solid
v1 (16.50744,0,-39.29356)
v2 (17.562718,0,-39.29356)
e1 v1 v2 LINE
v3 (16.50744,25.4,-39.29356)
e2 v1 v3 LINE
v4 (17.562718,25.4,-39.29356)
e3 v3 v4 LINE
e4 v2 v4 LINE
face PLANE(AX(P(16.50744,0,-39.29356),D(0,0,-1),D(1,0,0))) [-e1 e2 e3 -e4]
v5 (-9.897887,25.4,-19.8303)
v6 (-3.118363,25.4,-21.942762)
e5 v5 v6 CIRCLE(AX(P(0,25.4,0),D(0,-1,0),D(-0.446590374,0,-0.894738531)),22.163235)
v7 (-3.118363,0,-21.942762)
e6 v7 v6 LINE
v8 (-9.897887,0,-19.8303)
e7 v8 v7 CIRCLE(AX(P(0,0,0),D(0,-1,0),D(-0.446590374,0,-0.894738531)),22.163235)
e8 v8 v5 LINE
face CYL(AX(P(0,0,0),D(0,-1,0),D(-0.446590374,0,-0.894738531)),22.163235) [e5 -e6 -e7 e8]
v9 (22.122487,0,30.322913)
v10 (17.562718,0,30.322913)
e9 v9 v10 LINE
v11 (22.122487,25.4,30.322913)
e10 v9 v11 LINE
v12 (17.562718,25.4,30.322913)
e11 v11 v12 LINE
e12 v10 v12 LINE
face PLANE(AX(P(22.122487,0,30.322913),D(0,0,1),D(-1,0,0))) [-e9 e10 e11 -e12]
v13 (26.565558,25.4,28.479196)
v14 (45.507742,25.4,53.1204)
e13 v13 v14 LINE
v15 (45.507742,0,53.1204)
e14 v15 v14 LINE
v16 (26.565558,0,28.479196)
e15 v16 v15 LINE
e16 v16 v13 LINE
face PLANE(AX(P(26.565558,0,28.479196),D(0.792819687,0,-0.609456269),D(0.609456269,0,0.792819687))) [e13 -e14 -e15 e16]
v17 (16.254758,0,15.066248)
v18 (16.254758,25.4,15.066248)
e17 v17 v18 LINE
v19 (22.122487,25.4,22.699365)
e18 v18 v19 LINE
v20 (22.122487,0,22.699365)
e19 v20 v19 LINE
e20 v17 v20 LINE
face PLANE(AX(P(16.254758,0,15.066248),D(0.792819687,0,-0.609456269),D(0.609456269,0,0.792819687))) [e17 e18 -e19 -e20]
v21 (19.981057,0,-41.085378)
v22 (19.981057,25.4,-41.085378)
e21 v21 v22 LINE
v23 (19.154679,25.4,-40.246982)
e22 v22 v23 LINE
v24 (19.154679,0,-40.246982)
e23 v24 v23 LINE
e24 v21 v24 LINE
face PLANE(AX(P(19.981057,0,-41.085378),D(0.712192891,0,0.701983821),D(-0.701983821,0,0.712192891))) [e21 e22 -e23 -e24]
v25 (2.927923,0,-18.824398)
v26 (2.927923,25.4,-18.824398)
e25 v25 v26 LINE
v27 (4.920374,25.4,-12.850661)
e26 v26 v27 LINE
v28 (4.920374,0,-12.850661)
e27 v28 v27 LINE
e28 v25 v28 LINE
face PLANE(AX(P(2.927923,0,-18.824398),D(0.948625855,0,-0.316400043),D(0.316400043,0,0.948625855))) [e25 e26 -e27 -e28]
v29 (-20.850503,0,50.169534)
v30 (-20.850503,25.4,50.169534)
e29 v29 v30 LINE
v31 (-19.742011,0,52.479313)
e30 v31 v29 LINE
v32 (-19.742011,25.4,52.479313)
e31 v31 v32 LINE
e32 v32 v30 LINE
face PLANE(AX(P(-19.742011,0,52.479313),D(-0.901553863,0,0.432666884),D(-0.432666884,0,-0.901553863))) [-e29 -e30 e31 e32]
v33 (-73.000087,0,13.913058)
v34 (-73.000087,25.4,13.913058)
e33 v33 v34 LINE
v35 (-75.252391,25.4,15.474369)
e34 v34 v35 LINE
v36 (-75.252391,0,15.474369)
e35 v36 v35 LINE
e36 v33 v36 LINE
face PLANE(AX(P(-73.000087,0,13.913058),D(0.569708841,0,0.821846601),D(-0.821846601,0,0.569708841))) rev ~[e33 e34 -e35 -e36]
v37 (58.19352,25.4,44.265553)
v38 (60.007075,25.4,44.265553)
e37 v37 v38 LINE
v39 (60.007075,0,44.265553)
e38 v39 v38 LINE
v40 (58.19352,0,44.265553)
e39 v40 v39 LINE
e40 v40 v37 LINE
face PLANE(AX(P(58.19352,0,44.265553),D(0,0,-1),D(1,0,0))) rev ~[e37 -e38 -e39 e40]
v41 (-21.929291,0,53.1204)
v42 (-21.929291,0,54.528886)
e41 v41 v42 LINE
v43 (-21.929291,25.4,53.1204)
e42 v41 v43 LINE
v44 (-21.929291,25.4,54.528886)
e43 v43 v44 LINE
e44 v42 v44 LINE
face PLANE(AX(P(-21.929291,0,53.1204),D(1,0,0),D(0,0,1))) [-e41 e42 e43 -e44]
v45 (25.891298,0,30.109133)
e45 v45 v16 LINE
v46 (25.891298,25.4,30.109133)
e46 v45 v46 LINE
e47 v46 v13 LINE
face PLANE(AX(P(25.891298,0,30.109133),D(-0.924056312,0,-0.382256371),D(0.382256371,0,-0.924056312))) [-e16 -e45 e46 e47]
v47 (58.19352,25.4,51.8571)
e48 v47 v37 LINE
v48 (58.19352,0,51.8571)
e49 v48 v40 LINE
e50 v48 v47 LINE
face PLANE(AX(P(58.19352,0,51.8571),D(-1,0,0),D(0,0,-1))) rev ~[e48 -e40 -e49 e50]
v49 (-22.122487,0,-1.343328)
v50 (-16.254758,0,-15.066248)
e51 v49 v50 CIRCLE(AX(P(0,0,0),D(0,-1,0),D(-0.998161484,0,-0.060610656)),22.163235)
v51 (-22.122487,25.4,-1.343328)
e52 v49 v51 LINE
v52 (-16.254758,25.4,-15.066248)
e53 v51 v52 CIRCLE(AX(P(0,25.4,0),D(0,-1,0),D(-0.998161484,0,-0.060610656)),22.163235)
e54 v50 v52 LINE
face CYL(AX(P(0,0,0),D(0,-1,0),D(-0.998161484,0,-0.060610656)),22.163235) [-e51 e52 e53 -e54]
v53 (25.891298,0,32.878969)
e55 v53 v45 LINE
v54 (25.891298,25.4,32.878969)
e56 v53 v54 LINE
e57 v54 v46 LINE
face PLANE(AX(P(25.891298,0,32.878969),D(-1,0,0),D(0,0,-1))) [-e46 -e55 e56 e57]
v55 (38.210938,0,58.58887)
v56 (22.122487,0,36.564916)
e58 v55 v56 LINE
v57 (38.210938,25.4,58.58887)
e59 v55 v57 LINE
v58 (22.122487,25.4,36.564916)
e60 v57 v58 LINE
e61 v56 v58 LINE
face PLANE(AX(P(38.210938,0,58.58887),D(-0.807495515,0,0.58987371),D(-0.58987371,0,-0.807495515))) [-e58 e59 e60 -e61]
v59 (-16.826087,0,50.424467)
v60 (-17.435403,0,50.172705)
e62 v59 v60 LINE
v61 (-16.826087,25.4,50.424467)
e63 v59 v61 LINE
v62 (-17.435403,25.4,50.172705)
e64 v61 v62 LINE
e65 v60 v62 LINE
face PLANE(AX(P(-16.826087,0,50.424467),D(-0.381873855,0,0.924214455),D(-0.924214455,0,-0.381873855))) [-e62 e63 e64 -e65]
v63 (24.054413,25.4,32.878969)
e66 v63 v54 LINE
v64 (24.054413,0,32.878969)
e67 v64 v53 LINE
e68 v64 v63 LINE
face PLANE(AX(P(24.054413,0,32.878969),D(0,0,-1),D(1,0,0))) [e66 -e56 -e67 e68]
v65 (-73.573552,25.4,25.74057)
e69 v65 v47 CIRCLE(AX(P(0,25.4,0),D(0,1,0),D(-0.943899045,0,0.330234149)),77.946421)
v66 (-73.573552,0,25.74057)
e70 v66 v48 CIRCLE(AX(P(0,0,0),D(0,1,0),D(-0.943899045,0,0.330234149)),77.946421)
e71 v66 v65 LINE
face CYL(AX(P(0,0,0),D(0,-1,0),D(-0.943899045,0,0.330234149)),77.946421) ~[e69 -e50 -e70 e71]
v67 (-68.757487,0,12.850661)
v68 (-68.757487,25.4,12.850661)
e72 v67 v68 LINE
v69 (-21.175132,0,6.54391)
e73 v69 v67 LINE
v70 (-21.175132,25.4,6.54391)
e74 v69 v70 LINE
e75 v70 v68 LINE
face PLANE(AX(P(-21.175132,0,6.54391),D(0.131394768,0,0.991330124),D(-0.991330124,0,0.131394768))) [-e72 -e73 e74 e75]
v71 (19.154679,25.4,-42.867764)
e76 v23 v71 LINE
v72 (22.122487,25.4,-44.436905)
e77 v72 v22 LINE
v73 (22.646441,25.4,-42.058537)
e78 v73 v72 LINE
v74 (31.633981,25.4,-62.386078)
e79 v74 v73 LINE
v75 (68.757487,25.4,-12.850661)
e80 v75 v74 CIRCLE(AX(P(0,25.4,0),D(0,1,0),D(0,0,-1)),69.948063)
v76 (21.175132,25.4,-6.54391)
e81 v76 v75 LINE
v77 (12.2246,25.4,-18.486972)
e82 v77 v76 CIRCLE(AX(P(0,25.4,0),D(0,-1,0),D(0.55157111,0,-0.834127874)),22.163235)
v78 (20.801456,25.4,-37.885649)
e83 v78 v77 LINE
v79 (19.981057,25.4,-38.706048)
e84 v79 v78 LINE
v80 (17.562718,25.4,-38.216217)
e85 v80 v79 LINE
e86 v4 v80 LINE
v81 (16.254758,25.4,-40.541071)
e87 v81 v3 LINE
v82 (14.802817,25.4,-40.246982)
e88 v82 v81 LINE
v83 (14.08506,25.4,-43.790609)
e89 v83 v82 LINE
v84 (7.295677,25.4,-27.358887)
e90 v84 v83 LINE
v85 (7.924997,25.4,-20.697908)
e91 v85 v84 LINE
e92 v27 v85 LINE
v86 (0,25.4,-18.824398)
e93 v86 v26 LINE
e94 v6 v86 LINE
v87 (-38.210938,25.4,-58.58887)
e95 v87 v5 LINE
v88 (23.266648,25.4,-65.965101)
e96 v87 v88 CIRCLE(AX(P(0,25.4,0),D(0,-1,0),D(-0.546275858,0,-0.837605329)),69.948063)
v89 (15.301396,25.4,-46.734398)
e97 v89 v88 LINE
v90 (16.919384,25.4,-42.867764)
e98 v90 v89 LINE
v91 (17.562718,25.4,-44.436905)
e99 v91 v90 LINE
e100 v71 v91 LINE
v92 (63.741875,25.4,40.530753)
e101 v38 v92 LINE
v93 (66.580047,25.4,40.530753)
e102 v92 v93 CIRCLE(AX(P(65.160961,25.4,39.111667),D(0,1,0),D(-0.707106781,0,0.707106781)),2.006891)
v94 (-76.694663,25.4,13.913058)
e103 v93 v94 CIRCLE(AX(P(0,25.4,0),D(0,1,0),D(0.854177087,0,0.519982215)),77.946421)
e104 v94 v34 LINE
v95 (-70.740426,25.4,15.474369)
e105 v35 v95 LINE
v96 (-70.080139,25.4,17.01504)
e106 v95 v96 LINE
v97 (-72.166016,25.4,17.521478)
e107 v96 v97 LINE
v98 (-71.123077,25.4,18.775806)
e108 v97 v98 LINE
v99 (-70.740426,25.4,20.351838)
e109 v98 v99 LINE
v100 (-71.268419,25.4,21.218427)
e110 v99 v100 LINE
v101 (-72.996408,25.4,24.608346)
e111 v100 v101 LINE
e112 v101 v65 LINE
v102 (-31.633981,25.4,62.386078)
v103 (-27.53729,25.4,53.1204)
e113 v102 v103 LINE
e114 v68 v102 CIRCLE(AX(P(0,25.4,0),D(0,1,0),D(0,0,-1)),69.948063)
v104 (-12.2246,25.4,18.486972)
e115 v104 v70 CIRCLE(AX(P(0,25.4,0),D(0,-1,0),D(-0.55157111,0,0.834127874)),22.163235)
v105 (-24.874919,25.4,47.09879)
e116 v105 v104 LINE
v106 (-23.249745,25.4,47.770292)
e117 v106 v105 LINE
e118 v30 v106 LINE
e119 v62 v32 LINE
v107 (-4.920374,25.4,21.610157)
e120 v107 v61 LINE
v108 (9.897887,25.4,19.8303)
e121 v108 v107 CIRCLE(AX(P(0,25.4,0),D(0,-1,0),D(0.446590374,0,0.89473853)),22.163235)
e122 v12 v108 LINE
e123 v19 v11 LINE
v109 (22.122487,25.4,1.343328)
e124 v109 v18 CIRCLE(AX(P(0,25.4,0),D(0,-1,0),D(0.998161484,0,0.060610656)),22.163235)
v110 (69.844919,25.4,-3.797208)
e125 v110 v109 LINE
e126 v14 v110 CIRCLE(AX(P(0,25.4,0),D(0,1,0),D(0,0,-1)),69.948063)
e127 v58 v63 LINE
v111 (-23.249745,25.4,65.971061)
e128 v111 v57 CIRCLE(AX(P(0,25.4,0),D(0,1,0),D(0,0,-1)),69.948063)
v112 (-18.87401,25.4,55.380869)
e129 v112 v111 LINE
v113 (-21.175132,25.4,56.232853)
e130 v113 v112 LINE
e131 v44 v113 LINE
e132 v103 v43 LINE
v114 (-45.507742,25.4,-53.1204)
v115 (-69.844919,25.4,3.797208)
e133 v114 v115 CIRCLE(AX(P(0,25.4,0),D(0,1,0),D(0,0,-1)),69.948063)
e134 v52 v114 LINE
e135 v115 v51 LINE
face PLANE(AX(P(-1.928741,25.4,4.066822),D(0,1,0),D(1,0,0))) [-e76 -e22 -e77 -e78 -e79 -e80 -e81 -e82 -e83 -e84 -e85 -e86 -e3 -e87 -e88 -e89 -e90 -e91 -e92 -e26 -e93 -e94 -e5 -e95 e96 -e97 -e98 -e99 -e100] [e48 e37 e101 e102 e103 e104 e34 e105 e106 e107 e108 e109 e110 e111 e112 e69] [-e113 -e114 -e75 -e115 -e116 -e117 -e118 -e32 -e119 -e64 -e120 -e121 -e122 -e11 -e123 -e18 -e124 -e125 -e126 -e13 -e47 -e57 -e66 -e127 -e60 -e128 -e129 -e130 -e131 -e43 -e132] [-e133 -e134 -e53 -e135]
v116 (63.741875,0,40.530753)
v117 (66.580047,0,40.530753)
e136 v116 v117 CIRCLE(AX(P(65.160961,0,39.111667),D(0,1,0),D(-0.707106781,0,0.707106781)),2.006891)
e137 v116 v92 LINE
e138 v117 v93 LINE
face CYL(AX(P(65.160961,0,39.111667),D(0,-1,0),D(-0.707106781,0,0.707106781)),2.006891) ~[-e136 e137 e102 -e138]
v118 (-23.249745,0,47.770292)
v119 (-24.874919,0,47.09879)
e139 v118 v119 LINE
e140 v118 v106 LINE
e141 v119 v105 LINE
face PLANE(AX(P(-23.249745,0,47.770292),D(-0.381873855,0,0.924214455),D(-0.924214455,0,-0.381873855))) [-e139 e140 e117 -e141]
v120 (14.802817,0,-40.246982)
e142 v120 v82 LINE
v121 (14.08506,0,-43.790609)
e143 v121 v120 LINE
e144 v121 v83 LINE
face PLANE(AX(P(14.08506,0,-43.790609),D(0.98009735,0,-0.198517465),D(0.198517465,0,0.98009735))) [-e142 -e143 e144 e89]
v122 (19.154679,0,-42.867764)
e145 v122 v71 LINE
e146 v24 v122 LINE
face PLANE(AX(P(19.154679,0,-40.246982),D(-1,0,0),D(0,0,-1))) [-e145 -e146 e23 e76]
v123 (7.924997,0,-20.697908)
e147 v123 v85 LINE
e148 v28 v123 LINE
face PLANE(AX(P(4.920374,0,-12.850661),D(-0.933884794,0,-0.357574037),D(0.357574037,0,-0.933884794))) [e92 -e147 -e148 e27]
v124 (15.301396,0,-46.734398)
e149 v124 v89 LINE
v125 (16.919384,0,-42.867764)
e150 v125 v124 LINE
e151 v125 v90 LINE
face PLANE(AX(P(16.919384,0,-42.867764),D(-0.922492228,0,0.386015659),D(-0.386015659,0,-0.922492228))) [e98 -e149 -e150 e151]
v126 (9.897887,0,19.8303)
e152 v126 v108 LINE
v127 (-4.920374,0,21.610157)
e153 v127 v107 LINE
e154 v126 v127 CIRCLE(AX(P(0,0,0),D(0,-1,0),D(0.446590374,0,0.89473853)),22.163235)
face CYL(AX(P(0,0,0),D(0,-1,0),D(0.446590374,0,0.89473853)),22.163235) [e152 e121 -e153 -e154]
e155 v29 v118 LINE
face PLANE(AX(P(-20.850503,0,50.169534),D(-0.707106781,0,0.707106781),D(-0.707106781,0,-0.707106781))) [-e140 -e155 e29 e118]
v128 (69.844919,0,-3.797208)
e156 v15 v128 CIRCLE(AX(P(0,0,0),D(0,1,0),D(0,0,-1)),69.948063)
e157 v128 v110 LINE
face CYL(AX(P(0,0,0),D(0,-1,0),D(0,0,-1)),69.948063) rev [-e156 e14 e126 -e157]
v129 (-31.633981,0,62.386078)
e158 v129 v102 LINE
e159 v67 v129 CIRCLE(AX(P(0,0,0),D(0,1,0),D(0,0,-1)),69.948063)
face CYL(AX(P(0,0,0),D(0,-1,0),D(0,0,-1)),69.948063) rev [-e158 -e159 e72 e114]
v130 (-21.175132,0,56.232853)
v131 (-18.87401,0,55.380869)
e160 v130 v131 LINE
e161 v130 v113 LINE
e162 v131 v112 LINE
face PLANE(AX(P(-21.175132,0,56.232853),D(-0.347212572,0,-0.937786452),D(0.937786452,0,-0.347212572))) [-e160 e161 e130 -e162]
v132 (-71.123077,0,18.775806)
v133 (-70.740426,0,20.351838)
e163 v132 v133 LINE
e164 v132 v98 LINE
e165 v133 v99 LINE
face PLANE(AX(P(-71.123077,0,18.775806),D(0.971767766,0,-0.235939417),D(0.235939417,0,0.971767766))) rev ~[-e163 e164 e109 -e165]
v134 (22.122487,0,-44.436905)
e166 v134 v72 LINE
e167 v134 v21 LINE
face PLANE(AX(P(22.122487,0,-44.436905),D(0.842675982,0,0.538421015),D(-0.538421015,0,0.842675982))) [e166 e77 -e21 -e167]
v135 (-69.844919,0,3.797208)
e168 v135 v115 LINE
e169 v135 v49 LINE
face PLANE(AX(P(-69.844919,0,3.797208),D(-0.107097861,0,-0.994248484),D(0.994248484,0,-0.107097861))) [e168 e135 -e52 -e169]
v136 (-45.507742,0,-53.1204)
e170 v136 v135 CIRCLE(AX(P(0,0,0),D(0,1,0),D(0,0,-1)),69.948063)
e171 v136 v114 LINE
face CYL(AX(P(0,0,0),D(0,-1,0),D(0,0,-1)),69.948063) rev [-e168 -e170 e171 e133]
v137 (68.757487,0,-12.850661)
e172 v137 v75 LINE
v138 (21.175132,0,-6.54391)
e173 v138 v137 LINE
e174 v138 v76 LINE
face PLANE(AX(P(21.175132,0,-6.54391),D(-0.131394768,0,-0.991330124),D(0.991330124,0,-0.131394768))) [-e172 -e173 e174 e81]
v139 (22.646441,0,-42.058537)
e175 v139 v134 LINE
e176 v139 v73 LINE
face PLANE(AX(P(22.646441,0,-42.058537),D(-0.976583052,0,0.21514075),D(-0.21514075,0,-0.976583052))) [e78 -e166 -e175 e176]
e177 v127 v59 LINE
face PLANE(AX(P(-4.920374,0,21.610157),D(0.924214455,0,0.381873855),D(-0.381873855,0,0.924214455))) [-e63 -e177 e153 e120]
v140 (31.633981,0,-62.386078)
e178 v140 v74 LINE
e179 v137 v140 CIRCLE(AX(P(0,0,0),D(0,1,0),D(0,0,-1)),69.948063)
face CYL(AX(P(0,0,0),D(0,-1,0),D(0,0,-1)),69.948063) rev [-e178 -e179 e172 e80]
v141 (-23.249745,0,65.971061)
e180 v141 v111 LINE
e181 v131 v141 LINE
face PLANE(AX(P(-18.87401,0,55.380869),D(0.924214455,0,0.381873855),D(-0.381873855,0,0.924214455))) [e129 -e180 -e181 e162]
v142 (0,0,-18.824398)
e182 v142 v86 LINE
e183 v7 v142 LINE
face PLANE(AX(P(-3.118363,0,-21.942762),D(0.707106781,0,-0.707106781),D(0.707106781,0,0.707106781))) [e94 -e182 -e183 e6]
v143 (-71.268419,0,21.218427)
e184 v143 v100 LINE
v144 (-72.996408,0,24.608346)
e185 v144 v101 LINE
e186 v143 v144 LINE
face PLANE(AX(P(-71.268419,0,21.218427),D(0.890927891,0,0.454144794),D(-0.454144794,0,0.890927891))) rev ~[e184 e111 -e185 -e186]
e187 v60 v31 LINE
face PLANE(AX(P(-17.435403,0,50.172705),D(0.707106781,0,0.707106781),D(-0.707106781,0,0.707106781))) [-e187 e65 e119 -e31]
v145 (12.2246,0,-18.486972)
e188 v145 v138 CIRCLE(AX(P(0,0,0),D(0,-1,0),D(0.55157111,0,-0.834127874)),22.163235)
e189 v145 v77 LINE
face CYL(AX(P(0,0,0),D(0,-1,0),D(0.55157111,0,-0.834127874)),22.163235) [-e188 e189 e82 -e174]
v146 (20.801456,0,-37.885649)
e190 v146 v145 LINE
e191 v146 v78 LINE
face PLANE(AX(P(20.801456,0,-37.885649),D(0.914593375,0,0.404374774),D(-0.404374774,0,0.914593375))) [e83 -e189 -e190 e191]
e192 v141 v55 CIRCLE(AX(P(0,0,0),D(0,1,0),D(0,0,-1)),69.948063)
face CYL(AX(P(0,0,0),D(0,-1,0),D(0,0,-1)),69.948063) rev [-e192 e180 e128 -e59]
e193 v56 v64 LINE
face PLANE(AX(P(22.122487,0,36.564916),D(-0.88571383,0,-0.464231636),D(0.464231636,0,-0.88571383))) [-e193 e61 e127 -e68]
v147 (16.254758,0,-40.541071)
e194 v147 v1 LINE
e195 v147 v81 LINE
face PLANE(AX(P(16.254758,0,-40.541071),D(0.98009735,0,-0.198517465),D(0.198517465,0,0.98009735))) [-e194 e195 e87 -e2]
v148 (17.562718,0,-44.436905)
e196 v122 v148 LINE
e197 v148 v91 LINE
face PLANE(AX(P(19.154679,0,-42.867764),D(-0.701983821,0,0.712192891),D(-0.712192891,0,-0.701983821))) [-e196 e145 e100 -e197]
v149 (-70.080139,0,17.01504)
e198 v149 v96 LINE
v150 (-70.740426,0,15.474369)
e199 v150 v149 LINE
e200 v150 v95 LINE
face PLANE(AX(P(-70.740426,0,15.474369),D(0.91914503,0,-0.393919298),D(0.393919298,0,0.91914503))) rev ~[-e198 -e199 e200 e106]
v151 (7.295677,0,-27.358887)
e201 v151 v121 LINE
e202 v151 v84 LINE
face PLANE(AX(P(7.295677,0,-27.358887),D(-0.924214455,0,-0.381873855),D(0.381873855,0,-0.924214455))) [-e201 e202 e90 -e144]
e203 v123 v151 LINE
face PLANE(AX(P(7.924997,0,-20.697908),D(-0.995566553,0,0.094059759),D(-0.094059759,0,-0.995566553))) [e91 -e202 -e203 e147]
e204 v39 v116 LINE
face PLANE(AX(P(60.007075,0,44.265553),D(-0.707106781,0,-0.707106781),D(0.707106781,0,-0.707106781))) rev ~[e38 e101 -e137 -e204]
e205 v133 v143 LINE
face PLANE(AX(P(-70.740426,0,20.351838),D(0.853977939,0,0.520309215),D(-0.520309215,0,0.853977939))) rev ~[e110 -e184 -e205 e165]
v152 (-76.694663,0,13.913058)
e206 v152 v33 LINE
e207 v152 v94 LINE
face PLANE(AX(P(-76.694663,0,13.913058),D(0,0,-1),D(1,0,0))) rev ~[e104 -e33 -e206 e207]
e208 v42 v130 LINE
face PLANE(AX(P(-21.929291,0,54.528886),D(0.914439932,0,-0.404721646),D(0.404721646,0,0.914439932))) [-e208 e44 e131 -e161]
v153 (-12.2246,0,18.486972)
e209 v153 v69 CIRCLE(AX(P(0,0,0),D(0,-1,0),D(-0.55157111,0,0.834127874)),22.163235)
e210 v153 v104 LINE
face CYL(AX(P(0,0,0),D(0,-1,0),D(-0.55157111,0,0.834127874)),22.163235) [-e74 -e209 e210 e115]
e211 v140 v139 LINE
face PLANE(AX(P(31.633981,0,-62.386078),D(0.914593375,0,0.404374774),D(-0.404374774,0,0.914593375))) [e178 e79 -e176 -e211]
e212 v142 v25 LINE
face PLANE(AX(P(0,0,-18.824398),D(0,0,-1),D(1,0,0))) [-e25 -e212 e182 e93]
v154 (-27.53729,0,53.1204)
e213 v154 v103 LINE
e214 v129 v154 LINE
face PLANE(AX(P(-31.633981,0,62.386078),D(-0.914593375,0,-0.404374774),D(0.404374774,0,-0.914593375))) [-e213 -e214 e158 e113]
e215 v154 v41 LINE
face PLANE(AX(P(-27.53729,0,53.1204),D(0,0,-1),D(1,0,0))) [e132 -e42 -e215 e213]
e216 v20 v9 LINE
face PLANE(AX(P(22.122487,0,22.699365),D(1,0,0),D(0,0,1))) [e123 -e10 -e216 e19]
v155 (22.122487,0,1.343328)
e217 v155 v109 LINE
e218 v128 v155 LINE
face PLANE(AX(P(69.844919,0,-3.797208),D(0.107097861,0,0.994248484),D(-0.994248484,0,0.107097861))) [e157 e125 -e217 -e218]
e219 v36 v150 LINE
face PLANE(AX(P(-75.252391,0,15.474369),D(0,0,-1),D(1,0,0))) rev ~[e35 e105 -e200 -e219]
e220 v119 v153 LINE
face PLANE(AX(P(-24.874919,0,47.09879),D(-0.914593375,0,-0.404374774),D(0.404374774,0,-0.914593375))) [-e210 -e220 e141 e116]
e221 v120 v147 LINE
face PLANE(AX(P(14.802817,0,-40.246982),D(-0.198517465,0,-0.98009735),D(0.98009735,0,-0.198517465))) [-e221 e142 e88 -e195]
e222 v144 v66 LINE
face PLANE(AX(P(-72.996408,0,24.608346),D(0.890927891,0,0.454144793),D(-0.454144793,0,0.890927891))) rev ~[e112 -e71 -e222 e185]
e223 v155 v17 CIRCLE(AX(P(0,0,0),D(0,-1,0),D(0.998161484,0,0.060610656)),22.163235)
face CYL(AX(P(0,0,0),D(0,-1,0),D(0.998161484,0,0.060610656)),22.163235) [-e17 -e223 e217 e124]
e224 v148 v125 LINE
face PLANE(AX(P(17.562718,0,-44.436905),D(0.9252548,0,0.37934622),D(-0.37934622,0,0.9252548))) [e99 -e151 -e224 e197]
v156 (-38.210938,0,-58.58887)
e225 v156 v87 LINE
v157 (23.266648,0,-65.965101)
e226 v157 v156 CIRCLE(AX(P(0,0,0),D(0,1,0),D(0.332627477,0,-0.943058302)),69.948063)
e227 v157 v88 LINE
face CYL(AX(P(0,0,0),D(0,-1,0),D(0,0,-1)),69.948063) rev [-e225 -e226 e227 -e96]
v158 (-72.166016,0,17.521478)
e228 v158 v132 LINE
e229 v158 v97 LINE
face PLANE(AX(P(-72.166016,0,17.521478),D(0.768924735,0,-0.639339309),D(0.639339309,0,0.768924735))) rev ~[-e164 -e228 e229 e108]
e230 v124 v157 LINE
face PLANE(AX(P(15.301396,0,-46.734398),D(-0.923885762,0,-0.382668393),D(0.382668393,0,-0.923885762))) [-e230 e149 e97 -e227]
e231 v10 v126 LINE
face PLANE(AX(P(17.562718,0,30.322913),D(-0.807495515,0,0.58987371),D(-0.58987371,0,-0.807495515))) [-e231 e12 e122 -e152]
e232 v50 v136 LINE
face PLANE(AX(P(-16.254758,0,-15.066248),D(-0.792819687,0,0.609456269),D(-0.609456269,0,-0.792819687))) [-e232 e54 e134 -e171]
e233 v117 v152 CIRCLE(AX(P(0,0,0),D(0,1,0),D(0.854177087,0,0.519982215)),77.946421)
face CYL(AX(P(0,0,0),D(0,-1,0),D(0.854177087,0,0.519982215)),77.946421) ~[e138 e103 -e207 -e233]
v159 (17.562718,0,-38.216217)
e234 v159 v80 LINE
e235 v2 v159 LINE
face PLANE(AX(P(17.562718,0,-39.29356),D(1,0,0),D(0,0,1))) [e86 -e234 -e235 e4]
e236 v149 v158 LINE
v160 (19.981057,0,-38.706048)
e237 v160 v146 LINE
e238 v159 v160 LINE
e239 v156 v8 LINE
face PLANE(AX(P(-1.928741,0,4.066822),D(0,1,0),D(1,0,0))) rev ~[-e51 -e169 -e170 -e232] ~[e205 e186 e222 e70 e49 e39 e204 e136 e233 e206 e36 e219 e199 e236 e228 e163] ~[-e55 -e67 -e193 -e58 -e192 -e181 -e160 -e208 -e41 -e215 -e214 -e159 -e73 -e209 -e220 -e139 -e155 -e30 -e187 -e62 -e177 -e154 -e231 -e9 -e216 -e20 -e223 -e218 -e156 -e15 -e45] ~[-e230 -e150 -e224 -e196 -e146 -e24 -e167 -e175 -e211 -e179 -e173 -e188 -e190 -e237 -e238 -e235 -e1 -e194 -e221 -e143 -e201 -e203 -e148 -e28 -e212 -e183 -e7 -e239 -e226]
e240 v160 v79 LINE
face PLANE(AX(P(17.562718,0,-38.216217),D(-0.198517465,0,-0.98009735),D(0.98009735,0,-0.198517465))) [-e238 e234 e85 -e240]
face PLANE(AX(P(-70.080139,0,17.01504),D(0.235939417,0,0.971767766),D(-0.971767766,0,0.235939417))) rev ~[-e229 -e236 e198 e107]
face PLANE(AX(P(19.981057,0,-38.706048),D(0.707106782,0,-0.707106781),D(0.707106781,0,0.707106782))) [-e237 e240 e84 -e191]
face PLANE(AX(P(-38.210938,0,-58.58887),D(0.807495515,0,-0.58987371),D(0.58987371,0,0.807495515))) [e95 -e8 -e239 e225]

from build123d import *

# Parameters (mm, degrees)
SKETCH1_R           = 69.948062861
BOSS_EXTRUDE1_DEPTH = 25.4
BOSS_EXTRUDE2_DEPTH = 25.4


with BuildPart() as part:
    # Sketch1 → Boss-Extrude1 (new body)
    with BuildSketch(Plane(origin=(0, 0, 0), x_dir=(1, 0, 0), z_dir=(0, 1, 0))):
        with BuildLine():
            ThreePointArc((63.74187476, -40.530752622), (65.16096079, -41.118557302), (66.58004682, -40.530752622))
            ThreePointArc((66.58004682, -40.530752622), (14.23733744, 76.635127489), (-76.694663108, -13.913058378))
            Line((-76.694663108, -13.913058378), (-73.000086536, -13.913058378))
            Line((-73.000086536, -13.913058378), (-75.252390768, -15.474368763))
            Line((-75.252390768, -15.474368763), (-70.740426062, -15.474368763))
            Line((-70.740426062, -15.474368763), (-70.080138544, -17.015039639))
            Line((-70.080138544, -17.015039639), (-72.166015782, -17.521478191))
            Line((-72.166015782, -17.521478191), (-71.123077163, -18.775806353))
            Line((-71.123077163, -18.775806353), (-70.740426062, -20.351838073))
            Line((-70.740426062, -20.351838073), (-71.268418719, -21.218426764))
            Line((-71.268418719, -21.218426764), (-72.996408415, -24.608346096))
            Line((-72.996408415, -24.608346096), (-73.573552306, -25.740569997))
            ThreePointArc((-73.573552306, -25.740569997), (-15.15436006, -76.459073457), (58.193519931, -51.857099617))
            Line((58.193519931, -51.857099617), (58.193519931, -44.265552602))
            Line((58.193519931, -44.265552602), (60.00707478, -44.265552602))
            Line((60.00707478, -44.265552602), (63.74187476, -40.530752622))
        make_face()
        with Locations(Location((0, 0, 0), (0, 0, 90))):
            Circle(SKETCH1_R, mode=Mode.SUBTRACT)
    extrude(amount=BOSS_EXTRUDE1_DEPTH)

    # Sketch2 → Boss-Extrude2 (add)
    with BuildSketch(Plane.XZ):
        with BuildLine():
            Line((16.91938422, -42.867763876), (15.301396265, -46.734397981))
            Line((15.301396265, -46.734397981), (23.266647688, -65.965101405))
            ThreePointArc((23.266647688, -65.965101405), (27.508582432, -64.311813771), (31.633980927, -62.386078164))
            Line((31.633980927, -62.386078164), (22.646440609, -42.05853708))
            Line((22.646440609, -42.05853708), (22.122487474, -44.43690451))
            Line((22.122487474, -44.43690451), (19.98105683, -41.085378254))
            Line((19.98105683, -41.085378254), (19.154678805, -40.246982073))
            Line((19.154678805, -40.246982073), (19.154678805, -42.867763876))
            Line((19.154678805, -42.867763876), (17.562717892, -44.43690451))
            Line((17.562717892, -44.43690451), (16.91938422, -42.867763876))
        make_face()
        with BuildLine():
            Line((7.295677294, -27.358886688), (14.085059503, -43.790609078))
            Line((14.085059503, -43.790609078), (14.802816622, -40.246982073))
            Line((14.802816622, -40.246982073), (16.254758128, -40.541070969))
            Line((16.254758128, -40.541070969), (16.507439862, -39.293560089))
            Line((16.507439862, -39.293560089), (17.562717892, -39.293560089))
            Line((17.562717892, -39.293560089), (17.562717892, -38.21621684))
            Line((17.562717892, -38.21621684), (19.98105683, -38.7060483))
            Line((19.98105683, -38.7060483), (20.801456059, -37.88564907))
            Line((20.801456059, -37.88564907), (12.224600097, -18.486972039))
            ThreePointArc((12.224600097, -18.486972039), (17.735408563, -13.291511043), (21.175132345, -6.543909602))
            Line((21.175132345, -6.543909602), (68.757486976, -12.850660789))
            ThreePointArc((68.757486976, -12.850660789), (69.448887589, -8.341673136), (69.844918996, -3.797207976))
            Line((69.844918996, -3.797207976), (22.122487474, 1.343328216))
            ThreePointArc((22.122487474, 1.343328216), (20.3784905, 8.713558841), (16.254758128, 15.066247738))
            Line((16.254758128, 15.066247738), (22.122487474, 22.699365292))
            Line((22.122487474, 22.699365292), (22.122487474, 30.322912753))
            Line((22.122487474, 30.322912753), (17.562717892, 30.322912753))
            Line((17.562717892, 30.322912753), (9.897887376, 19.830300255))
            ThreePointArc((9.897887376, 19.830300255), (2.643081937, 22.005069884), (-4.920374217, 21.610157341))
            Line((-4.920374217, 21.610157341), (-16.826086698, 50.424467144))
            Line((-16.826086698, 50.424467144), (-17.435403285, 50.17270515))
            Line((-17.435403285, 50.17270515), (-19.742011126, 52.479312991))
            Line((-19.742011126, 52.479312991), (-20.850502701, 50.169534038))
            Line((-20.850502701, 50.169534038), (-23.249744789, 47.77029195))
            Line((-23.249744789, 47.77029195), (-24.874918704, 47.098790412))
            Line((-24.874918704, 47.098790412), (-12.224600097, 18.486972039))
            ThreePointArc((-12.224600097, 18.486972039), (-17.735408563, 13.291511043), (-21.175132345, 6.543909602))
            Line((-21.175132345, 6.543909602), (-68.757486976, 12.850660789))
            ThreePointArc((-68.757486976, 12.850660789), (-69.448887589, 8.341673136), (-69.844918996, 3.797207976))
            Line((-69.844918996, 3.797207976), (-22.122487474, -1.343328216))
            ThreePointArc((-22.122487474, -1.343328216), (-20.3784905, -8.713558841), (-16.254758128, -15.066247738))
            Line((-16.254758128, -15.066247738), (-45.507742187, -53.120400027))
            ThreePointArc((-45.507742187, -53.120400027), (-41.94854464, -55.973664348), (-38.210938069, -58.588870188))
            Line((-38.210938069, -58.588870188), (-9.897887376, -19.830300255))
            ThreePointArc((-9.897887376, -19.830300255), (-6.593278337, -21.159812463), (-3.118363368, -21.942761737))
            Line((-3.118363368, -21.942761737), (0, -18.824398369))
            Line((0, -18.824398369), (2.927922909, -18.824398369))
            Line((2.927922909, -18.824398369), (4.920374217, -12.850660789))
            Line((4.920374217, -12.850660789), (7.924997395, -20.697908083))
            Line((7.924997395, -20.697908083), (7.295677294, -27.358886688))
        make_face()
        with BuildLine():
            ThreePointArc((-23.249744789, 65.971060816), (-27.500342949, 64.315337484), (-31.633980927, 62.386078164))
            Line((-31.633980927, 62.386078164), (-27.537289867, 53.120400027))
            Line((-27.537289867, 53.120400027), (-21.929290512, 53.120400027))
            Line((-21.929290512, 53.120400027), (-21.929290512, 54.528885617))
            Line((-21.929290512, 54.528885617), (-21.175132345, 56.232852652))
            Line((-21.175132345, 56.232852652), (-18.874010019, 55.380869134))
            Line((-18.874010019, 55.380869134), (-23.249744789, 65.971060816))
        make_face()
        with BuildLine():
            Line((26.56555805, 28.479195616), (45.507742187, 53.120400027))
            ThreePointArc((45.507742187, 53.120400027), (41.94854464, 55.973664348), (38.210938069, 58.588870188))
            Line((38.210938069, 58.588870188), (22.122487474, 36.564915784))
            Line((22.122487474, 36.564915784), (24.054412722, 32.87896942))
            Line((24.054412722, 32.87896942), (25.891298269, 32.87896942))
            Line((25.891298269, 32.87896942), (25.891298269, 30.109133149))
            Line((25.891298269, 30.109133149), (26.56555805, 28.479195616))
        make_face()
    extrude(amount=-BOSS_EXTRUDE2_DEPTH)


solid = part.part
